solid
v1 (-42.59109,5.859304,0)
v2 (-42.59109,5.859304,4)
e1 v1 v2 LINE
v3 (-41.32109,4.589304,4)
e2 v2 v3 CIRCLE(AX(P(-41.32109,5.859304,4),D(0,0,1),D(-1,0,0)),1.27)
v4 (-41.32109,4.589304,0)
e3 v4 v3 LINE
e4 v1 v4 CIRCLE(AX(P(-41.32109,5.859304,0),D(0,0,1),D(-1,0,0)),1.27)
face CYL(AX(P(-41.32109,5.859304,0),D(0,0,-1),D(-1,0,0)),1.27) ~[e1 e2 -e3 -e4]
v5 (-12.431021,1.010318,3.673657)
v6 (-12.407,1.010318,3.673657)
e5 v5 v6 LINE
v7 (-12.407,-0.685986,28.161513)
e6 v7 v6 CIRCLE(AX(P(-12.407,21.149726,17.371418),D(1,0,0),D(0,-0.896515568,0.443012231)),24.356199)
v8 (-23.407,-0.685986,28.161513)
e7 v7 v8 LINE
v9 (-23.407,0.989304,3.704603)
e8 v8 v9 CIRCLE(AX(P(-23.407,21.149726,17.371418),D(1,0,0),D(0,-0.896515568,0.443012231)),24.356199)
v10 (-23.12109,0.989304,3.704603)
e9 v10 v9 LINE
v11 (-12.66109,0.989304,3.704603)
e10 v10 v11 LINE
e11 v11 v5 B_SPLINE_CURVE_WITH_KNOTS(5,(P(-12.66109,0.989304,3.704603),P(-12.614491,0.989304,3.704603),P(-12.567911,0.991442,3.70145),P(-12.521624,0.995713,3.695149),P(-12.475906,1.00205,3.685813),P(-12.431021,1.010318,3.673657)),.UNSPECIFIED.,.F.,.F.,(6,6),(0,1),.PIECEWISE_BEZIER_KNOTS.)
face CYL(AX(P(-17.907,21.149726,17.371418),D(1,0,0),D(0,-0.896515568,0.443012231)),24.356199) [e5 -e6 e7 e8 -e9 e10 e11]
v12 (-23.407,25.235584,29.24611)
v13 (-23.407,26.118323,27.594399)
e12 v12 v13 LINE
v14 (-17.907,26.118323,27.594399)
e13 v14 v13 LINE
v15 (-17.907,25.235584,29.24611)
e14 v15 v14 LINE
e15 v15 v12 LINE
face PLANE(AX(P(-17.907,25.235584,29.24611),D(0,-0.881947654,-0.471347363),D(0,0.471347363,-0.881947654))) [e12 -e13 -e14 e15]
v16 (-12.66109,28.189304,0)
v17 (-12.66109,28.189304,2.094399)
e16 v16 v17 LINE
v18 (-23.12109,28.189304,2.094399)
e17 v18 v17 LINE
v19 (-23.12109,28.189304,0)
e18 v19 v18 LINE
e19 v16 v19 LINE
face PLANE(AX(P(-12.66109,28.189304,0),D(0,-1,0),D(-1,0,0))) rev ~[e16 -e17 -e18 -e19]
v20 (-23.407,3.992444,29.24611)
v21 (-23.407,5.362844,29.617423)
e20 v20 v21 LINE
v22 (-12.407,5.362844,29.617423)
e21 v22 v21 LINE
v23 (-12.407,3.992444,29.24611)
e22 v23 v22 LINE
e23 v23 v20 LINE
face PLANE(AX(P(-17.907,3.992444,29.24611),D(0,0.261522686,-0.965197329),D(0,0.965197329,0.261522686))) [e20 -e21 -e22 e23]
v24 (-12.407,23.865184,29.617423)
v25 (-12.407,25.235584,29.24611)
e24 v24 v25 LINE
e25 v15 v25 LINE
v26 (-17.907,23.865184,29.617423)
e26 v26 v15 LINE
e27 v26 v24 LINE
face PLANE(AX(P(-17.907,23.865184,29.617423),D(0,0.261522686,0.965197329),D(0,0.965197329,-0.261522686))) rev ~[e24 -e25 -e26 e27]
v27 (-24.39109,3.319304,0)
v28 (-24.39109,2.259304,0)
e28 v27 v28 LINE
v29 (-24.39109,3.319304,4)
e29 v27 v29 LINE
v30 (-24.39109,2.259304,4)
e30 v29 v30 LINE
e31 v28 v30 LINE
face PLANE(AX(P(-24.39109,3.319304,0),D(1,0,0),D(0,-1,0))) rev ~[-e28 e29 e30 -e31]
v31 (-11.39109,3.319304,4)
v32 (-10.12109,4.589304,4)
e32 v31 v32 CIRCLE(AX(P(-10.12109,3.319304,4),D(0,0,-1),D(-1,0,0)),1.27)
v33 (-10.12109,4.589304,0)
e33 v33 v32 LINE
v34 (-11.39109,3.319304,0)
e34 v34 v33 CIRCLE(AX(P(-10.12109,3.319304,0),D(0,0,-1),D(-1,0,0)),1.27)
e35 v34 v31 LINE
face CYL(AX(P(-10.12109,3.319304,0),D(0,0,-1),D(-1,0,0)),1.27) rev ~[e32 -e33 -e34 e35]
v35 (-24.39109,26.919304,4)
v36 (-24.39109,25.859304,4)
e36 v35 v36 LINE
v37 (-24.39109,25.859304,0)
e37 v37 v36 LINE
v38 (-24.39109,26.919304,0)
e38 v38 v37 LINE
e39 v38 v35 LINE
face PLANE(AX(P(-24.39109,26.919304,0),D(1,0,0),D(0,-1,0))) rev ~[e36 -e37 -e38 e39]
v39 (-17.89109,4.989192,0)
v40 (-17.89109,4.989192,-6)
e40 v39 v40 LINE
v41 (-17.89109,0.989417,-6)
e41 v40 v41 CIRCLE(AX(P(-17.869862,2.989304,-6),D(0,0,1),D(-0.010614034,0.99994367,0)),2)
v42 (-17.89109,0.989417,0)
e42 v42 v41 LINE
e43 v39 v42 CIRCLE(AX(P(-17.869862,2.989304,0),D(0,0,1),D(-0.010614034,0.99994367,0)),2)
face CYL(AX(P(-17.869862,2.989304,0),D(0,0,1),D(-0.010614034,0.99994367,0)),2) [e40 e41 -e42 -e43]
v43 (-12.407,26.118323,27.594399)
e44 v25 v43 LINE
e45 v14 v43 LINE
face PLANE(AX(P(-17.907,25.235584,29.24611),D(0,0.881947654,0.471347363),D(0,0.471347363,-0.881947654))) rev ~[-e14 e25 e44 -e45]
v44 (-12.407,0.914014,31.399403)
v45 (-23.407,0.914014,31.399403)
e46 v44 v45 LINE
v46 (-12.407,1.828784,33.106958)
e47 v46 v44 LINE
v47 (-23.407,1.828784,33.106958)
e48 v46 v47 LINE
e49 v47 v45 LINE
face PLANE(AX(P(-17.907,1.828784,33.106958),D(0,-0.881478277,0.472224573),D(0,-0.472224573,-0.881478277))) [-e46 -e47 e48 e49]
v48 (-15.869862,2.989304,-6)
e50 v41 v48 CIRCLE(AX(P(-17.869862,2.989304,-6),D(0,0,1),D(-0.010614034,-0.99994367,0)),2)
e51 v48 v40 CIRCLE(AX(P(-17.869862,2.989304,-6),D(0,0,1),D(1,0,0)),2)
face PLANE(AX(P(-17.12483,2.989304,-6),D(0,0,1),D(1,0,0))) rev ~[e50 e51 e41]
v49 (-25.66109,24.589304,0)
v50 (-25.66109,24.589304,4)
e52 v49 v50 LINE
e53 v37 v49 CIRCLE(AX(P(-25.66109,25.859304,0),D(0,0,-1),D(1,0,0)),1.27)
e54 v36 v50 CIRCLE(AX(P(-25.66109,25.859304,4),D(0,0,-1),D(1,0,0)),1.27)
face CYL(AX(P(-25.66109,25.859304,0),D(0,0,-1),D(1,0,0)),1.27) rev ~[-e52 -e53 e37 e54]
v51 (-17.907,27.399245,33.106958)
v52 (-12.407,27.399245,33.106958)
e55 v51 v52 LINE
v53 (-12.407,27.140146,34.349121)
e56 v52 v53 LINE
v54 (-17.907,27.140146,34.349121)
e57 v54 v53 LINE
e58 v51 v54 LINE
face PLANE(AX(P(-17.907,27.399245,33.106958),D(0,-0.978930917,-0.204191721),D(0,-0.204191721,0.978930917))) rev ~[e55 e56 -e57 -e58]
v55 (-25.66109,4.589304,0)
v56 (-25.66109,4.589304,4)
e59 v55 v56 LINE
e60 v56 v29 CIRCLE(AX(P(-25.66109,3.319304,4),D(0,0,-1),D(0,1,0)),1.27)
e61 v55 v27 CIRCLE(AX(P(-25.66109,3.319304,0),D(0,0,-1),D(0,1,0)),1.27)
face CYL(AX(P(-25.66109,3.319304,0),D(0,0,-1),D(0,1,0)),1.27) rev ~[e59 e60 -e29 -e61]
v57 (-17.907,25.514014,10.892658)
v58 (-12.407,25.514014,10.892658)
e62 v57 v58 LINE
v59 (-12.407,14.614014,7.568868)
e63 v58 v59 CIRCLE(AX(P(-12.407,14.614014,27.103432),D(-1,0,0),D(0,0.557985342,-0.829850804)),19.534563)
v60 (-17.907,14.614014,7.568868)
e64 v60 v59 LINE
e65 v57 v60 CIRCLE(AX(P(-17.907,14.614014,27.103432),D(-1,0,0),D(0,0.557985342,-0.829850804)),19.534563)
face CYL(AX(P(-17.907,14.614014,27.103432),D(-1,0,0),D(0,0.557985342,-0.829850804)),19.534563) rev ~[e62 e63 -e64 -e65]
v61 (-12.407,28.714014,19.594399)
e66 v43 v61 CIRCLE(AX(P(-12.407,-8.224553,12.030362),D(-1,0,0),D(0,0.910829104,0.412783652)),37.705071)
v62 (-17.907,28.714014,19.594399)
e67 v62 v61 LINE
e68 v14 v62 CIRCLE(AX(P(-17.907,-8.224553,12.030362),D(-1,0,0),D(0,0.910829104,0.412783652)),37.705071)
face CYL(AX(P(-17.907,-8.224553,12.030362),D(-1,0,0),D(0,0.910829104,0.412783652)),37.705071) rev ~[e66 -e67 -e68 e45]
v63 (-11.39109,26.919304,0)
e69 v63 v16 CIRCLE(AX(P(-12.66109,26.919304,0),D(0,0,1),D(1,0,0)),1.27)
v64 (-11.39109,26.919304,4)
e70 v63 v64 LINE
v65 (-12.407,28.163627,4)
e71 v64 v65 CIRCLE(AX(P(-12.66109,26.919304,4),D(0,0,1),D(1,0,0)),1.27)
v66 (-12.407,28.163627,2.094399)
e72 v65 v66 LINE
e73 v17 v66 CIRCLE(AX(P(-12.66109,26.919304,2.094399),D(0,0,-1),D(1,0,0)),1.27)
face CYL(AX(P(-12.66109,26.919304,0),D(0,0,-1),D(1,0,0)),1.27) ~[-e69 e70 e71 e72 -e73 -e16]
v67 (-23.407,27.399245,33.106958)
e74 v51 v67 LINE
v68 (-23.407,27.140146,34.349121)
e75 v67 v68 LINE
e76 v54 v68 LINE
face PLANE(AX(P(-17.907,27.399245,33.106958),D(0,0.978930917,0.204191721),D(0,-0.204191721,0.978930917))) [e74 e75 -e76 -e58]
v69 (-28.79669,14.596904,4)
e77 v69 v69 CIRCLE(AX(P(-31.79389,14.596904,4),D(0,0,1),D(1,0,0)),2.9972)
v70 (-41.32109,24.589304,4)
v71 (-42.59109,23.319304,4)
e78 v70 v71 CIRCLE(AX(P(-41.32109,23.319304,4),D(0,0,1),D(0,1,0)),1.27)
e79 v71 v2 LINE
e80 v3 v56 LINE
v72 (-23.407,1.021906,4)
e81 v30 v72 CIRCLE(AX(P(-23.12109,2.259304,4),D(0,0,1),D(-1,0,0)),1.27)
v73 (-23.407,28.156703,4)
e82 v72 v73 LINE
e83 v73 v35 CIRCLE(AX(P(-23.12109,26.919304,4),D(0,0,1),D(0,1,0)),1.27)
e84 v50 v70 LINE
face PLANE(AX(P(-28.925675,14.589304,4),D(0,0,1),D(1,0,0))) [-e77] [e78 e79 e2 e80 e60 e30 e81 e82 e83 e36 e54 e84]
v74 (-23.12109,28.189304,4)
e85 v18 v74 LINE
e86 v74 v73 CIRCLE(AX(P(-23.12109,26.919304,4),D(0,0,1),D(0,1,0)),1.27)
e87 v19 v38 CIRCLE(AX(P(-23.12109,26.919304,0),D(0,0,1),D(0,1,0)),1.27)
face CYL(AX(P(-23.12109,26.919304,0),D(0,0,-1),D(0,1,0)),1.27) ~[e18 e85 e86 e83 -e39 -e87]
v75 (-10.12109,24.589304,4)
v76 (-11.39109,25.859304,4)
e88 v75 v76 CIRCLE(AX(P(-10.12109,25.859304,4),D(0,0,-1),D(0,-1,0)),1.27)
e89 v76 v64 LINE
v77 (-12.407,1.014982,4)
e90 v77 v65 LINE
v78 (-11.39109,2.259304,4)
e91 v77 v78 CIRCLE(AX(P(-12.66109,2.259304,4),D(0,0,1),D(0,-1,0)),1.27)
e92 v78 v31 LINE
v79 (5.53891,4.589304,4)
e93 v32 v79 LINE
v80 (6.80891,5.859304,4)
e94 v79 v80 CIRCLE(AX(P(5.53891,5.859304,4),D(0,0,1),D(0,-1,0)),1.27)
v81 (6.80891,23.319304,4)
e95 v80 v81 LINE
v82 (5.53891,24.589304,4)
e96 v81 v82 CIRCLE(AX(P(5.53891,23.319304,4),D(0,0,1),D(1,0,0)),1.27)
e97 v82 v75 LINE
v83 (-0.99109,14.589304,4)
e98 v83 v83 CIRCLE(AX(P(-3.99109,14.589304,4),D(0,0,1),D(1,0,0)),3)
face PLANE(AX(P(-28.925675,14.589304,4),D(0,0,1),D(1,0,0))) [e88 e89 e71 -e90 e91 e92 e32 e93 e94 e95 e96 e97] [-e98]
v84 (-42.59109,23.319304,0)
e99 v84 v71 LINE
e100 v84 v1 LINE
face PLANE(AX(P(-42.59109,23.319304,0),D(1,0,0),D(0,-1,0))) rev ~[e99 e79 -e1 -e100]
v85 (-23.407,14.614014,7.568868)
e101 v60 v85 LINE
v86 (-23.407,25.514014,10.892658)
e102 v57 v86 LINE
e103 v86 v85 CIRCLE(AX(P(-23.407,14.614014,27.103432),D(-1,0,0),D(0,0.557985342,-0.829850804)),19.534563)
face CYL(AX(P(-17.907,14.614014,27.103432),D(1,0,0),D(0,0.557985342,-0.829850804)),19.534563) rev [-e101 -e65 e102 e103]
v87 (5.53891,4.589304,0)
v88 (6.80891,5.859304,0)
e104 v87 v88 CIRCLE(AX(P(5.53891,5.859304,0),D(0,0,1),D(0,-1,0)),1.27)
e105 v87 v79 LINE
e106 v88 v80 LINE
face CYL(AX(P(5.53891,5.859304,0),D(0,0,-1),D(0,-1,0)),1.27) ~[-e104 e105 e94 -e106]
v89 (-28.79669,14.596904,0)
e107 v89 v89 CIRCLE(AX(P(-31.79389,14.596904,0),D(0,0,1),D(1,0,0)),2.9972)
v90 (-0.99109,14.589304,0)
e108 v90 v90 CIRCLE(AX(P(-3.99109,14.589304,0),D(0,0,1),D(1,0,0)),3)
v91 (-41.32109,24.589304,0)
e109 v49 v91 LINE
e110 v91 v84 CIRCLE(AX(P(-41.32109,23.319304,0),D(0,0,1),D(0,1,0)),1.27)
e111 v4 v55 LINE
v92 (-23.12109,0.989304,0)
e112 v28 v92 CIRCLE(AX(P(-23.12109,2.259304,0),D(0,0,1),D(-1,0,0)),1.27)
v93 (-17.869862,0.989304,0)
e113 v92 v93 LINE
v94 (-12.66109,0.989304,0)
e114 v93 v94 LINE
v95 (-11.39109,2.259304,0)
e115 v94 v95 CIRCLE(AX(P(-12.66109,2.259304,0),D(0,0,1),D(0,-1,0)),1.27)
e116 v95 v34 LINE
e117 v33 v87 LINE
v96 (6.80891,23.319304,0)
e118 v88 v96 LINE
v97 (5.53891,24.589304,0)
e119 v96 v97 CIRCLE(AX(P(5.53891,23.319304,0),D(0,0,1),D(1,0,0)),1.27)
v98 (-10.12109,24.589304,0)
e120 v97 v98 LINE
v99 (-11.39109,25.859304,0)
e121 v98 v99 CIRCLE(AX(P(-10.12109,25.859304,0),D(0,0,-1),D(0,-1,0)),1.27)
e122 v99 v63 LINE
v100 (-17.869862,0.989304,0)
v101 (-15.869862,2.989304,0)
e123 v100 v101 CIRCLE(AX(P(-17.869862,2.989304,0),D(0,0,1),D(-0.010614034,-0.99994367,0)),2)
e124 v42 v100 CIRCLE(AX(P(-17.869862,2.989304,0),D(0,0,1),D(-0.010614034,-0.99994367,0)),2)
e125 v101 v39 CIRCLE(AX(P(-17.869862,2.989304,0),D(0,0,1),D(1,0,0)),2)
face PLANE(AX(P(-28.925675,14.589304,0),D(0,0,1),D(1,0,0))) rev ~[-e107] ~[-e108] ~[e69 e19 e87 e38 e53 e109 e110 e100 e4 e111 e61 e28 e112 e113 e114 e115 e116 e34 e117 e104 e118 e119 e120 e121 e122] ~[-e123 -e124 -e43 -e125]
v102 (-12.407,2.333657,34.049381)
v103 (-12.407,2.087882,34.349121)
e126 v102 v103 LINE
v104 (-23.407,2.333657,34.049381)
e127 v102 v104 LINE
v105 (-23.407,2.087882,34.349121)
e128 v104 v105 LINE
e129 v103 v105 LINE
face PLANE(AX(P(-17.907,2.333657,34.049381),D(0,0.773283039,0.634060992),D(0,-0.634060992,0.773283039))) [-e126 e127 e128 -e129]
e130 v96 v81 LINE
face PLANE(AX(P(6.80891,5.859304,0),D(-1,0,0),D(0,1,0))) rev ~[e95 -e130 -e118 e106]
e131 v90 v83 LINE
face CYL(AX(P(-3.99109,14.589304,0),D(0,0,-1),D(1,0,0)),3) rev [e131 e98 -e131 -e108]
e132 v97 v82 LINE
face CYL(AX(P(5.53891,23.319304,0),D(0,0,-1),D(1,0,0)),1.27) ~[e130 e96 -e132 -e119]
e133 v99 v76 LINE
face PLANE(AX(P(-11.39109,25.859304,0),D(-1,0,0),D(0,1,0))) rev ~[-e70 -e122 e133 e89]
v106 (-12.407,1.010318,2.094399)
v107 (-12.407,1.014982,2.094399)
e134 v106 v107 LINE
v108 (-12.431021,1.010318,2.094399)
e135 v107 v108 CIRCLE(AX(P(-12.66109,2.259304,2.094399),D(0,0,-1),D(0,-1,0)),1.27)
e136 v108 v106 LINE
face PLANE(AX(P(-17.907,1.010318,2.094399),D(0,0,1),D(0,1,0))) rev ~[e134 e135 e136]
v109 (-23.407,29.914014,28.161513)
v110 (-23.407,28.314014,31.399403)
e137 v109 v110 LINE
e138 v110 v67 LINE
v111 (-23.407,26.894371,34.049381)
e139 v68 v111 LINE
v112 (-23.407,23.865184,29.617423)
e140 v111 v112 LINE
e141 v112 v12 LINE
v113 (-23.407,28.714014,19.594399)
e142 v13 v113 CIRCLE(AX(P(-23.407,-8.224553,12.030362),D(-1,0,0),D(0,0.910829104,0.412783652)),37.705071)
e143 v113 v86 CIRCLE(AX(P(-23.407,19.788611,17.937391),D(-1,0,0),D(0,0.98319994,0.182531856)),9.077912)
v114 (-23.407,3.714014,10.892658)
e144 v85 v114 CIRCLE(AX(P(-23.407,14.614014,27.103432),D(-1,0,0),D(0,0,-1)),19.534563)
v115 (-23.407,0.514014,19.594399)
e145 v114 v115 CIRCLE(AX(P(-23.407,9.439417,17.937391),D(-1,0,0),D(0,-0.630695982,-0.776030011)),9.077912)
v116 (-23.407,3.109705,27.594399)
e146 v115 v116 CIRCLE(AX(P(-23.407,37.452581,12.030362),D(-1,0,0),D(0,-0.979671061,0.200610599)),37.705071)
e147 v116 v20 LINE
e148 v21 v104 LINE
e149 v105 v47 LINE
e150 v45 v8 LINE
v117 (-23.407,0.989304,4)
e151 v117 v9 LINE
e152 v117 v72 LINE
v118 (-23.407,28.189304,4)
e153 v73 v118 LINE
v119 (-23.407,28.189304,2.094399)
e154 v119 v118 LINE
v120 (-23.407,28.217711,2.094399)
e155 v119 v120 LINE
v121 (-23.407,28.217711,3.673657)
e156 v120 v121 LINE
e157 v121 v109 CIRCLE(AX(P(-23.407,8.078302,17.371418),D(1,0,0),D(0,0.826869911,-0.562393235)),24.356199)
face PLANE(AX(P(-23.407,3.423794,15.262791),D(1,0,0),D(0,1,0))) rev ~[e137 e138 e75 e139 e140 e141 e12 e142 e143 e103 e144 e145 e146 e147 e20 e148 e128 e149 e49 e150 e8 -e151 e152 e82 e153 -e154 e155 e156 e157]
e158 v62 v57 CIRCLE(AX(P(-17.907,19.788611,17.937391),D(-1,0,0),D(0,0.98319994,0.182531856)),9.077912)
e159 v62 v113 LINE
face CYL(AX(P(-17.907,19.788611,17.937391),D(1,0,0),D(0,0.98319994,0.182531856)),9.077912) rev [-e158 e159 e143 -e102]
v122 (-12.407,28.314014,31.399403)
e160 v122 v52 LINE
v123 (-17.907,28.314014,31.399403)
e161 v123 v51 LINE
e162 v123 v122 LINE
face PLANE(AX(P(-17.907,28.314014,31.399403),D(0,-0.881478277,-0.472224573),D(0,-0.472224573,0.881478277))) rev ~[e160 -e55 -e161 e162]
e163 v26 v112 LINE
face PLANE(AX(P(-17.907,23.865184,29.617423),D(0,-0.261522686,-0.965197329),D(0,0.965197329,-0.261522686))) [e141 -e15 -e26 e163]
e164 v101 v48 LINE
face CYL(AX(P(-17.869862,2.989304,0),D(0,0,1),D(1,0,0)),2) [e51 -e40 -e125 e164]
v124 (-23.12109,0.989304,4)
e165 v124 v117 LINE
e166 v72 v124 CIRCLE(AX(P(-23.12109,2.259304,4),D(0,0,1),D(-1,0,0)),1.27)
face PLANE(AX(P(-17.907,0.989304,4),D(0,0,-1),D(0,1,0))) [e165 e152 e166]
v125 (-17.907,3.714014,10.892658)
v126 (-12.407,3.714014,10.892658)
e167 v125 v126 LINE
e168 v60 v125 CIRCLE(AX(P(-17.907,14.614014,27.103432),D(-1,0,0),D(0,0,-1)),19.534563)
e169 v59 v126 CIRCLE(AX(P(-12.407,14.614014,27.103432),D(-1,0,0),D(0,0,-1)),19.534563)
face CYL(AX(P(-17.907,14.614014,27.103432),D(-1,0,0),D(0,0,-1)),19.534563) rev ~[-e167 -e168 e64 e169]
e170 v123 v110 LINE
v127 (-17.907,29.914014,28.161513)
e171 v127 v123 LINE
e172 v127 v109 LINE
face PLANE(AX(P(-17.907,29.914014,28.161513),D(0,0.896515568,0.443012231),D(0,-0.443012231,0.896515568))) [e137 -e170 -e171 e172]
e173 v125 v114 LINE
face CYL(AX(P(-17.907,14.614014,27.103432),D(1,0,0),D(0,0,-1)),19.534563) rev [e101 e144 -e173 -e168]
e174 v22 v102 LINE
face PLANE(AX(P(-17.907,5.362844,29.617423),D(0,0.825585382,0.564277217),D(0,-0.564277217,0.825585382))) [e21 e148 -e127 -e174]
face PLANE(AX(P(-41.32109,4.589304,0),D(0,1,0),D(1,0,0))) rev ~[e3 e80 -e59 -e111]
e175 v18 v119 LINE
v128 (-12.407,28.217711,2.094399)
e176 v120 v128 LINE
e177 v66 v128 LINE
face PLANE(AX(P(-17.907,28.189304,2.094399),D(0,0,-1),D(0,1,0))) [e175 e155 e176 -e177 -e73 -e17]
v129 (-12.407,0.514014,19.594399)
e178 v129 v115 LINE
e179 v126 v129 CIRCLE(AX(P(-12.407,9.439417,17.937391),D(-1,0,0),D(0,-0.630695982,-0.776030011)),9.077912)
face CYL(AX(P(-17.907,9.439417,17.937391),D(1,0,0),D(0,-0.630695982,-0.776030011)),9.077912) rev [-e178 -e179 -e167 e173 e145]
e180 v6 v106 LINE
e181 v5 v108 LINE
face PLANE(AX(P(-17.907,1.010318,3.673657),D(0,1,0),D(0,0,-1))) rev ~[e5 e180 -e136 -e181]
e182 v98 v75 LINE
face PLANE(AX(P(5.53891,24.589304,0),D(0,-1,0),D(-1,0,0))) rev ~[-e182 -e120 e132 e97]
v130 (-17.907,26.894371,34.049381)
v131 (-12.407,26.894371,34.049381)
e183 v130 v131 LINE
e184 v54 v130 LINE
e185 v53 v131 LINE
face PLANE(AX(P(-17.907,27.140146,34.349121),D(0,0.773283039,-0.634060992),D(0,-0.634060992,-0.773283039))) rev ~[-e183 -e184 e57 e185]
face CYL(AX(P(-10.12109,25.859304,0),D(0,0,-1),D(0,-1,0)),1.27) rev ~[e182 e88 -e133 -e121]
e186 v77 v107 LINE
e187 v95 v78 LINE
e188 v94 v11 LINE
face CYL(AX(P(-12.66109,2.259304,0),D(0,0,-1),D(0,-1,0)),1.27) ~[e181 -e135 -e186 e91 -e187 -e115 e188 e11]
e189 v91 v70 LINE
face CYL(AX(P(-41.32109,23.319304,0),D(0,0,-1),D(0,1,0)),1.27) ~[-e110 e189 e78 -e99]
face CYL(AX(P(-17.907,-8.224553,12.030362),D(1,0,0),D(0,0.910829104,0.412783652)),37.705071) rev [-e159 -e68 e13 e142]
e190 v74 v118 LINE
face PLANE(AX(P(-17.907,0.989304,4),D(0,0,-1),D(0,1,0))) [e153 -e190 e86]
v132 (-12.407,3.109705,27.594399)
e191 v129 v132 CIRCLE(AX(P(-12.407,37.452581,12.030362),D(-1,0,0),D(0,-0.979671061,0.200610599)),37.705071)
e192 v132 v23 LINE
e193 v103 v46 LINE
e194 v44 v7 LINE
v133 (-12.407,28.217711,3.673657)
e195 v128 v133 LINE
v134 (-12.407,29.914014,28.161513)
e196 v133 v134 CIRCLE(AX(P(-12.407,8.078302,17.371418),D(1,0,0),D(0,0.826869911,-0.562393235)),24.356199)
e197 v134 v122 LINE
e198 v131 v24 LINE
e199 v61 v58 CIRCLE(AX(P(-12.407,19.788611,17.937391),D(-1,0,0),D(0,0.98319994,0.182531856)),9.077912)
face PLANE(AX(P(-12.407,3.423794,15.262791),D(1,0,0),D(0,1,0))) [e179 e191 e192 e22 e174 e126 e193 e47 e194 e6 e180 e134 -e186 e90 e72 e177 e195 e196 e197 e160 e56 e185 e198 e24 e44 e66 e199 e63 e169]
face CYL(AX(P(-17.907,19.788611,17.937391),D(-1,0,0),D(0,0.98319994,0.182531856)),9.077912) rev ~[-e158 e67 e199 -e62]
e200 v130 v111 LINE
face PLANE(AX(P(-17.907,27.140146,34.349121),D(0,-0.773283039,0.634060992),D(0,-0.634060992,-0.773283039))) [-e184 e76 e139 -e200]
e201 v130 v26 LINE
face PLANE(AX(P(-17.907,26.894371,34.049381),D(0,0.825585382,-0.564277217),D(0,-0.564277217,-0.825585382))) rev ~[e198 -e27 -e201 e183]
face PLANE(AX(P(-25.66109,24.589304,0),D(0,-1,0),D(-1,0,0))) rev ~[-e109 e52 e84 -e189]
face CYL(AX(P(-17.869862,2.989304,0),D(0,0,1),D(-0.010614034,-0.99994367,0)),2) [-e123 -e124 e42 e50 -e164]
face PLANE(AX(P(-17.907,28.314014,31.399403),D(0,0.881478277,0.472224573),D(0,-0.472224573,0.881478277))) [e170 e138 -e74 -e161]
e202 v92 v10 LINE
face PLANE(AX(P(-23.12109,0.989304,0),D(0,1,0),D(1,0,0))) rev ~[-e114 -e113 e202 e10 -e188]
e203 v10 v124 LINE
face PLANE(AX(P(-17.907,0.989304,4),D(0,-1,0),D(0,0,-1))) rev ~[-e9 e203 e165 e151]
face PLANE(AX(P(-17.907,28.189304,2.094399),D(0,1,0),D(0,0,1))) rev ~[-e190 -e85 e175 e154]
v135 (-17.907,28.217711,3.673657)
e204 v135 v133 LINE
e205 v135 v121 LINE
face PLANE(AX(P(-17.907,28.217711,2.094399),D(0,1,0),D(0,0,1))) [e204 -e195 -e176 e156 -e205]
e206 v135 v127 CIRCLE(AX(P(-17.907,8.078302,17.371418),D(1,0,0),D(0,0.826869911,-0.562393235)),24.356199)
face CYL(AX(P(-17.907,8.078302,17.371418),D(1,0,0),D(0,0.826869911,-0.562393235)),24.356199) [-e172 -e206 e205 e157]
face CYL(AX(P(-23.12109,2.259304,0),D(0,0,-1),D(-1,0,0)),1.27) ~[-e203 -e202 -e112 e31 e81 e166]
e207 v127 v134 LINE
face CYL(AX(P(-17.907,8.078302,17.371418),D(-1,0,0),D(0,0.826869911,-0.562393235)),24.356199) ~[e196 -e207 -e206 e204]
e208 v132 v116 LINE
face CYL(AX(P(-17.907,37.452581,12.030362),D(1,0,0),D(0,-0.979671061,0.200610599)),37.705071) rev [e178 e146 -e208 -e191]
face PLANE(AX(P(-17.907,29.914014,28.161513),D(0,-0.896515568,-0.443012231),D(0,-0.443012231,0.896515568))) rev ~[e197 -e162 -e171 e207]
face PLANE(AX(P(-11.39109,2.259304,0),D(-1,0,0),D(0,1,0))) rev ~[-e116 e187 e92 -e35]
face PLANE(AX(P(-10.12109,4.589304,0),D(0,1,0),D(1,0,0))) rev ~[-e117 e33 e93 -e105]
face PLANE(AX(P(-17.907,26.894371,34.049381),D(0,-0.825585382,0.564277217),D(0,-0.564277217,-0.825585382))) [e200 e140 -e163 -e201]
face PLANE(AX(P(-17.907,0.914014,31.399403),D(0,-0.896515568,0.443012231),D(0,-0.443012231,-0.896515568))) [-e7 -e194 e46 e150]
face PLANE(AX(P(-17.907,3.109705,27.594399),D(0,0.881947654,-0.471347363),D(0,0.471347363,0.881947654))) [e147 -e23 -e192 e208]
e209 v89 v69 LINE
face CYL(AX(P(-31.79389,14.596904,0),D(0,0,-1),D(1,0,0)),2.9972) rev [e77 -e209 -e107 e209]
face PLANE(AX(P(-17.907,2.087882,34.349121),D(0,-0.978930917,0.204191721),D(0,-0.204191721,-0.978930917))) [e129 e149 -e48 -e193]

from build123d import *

# Parameters (mm, degrees)
F0_R     = 2.9972
F0_R_2   = 3
F1_DEPTH = 4
F4_DEPTH = 5.5
F5_DEPTH = 5.5
F7_DEPTH = 6


with BuildPart() as f1:
    # F0 (on Top) → F1 (new body)
    with BuildSketch(Plane.XY):
        with BuildLine():
            Line((-25.6610898641, 24.5893044506), (-41.3210898641, 24.5893044506))
            ThreePointArc((-41.3210898641, 24.5893044506), (-42.2191154762, 24.2173300627), (-42.5910898641, 23.3193044506))
            Line((-42.5910898641, 23.3193044506), (-42.5910898641, 5.8593044506))
            ThreePointArc((-42.5910898641, 5.8593044506), (-42.2191154762, 4.9612788385), (-41.3210898641, 4.5893044506))
            Line((-41.3210898641, 4.5893044506), (-25.6610898641, 4.5893044506))
            ThreePointArc((-25.6610898641, 4.5893044506), (-24.763064252, 4.2173300627), (-24.3910898641, 3.3193044506))
            Line((-24.3910898641, 3.3193044506), (-24.3910898641, 2.2593044506))
            ThreePointArc((-24.3910898641, 2.2593044506), (-24.0191154762, 1.3612788385), (-23.1210898641, 0.9893044506))
            Line((-23.1210898641, 0.9893044506), (-17.8910898641, 0.9893044506))
            Line((-17.8910898641, 0.9893044506), (-17.8910898641, 28.1893044506))
            Line((-17.8910898641, 28.1893044506), (-23.1210898641, 28.1893044506))
            ThreePointArc((-23.1210898641, 28.1893044506), (-24.0191154762, 27.8173300627), (-24.3910898641, 26.9193044506))
            Line((-24.3910898641, 26.9193044506), (-24.3910898641, 25.8593044506))
            ThreePointArc((-24.3910898641, 25.8593044506), (-24.763064252, 24.9612788385), (-25.6610898641, 24.5893044506))
        make_face()
        with Locations((-31.7938898641, 14.5969044506)):
            Circle(F0_R, mode=Mode.SUBTRACT)
        with BuildLine():
            Line((-12.6610898641, 28.1893044506), (-17.8910898641, 28.1893044506))
            Line((-17.8910898641, 28.1893044506), (-17.8910898641, 0.9893044506))
            Line((-17.8910898641, 0.9893044506), (-12.6610898641, 0.9893044506))
            ThreePointArc((-12.6610898641, 0.9893044506), (-11.763064252, 1.3612788385), (-11.3910898641, 2.2593044506))
            Line((-11.3910898641, 2.2593044506), (-11.3910898641, 3.3193044506))
            ThreePointArc((-11.3910898641, 3.3193044506), (-11.0191154762, 4.2173300627), (-10.1210898641, 4.5893044506))
            Line((-10.1210898641, 4.5893044506), (5.5389101359, 4.5893044506))
            ThreePointArc((5.5389101359, 4.5893044506), (6.436935748, 4.9612788385), (6.8089101359, 5.8593044506))
            Line((6.8089101359, 5.8593044506), (6.8089101359, 23.3193044506))
            ThreePointArc((6.8089101359, 23.3193044506), (6.436935748, 24.2173300627), (5.5389101359, 24.5893044506))
            Line((5.5389101359, 24.5893044506), (-10.1210898641, 24.5893044506))
            ThreePointArc((-10.1210898641, 24.5893044506), (-11.0191154762, 24.9612788385), (-11.3910898641, 25.8593044506))
            Line((-11.3910898641, 25.8593044506), (-11.3910898641, 26.9193044506))
            ThreePointArc((-11.3910898641, 26.9193044506), (-11.763064252, 27.8173300627), (-12.6610898641, 28.1893044506))
        make_face()
        with Locations((-3.9910898641, 14.5893044506)):
            Circle(F0_R_2, mode=Mode.SUBTRACT)
    extrude(amount=F1_DEPTH)

    # F3 (on offset) → F4 (join)
    with BuildSketch(Plane.YZ.offset(-17.907)):
        with BuildLine():
            Line((1.0103175882, 3.6736566108), (1.0103175882, 2.094399018))
            Line((1.0103175882, 2.094399018), (14.6140140714, 2.094399018))
            Line((14.6140140714, 2.094399018), (14.6140140714, 7.5688682606))
            ThreePointArc((14.6140140714, 7.5688682606), (8.9162605334, 8.4182832346), (3.7140140714, 10.8926584944))
            ThreePointArc((3.7140140714, 10.8926584944), (0.9193465512, 14.8041987102), (0.5140140714, 19.594399018))
            ThreePointArc((0.5140140714, 19.594399018), (1.5880995617, 23.6670004727), (3.1097049359, 27.594399018))
            Line((3.1097049359, 27.594399018), (3.9924437818, 29.2461096572))
            Line((3.9924437818, 29.2461096572), (5.3628443275, 29.6174231917))
            Line((5.3628443275, 29.6174231917), (2.3336572567, 34.0493805554))
            Line((2.3336572567, 34.0493805554), (2.0878820214, 34.3491211534))
            Line((2.0878820214, 34.3491211534), (1.8287835856, 33.1069578199))
            Line((1.8287835856, 33.1069578199), (0.9140140714, 31.3994027674))
            Line((0.9140140714, 31.3994027674), (-0.6859859286, 28.1615126878))
            ThreePointArc((-0.6859859286, 28.1615126878), (-3.1482462474, 15.6882683861), (1.0103175882, 3.6736566108))
        make_face()
        with BuildLine():
            Line((14.6140140714, 7.5688682606), (14.6140140714, 2.094399018))
            Line((14.6140140714, 2.094399018), (28.2177105546, 2.094399018))
            Line((28.2177105546, 2.094399018), (28.2177105546, 3.6736566108))
            ThreePointArc((28.2177105546, 3.6736566108), (32.3762743902, 15.6882683861), (29.9140140714, 28.1615126878))
            Line((29.9140140714, 28.1615126878), (28.3140140714, 31.3994027674))
            Line((28.3140140714, 31.3994027674), (27.3992445572, 33.1069578199))
            Line((27.3992445572, 33.1069578199), (27.1401461214, 34.3491211534))
            Line((27.1401461214, 34.3491211534), (26.8943708861, 34.0493805554))
            Line((26.8943708861, 34.0493805554), (23.8651838154, 29.6174231917))
            Line((23.8651838154, 29.6174231917), (25.2355843611, 29.2461096572))
            Line((25.2355843611, 29.2461096572), (26.1183232069, 27.594399018))
            ThreePointArc((26.1183232069, 27.594399018), (27.6399285811, 23.6670004727), (28.7140140714, 19.594399018))
            ThreePointArc((28.7140140714, 19.594399018), (28.3086815916, 14.8041987102), (25.5140140714, 10.8926584944))
            ThreePointArc((25.5140140714, 10.8926584944), (20.3117676094, 8.4182832346), (14.6140140714, 7.5688682606))
        make_face()
    extrude(amount=F4_DEPTH)

    # F5 (add): a face of the model
    f5_faces = [f1.faces().sort_by_distance(p)[0] for p in [
        (-17.907, 0.5449617654, 29.5675053748),
    ]]
    extrude(f5_faces, amount=F5_DEPTH)

    # F6 (on face) → F7 (join)
    with BuildSketch(Plane.XY):
        with BuildLine():
            ThreePointArc((-17.8910898641, 0.9894171115), (-16.4631735111, 1.5676054433), (-15.8698617965, 2.9893044506))
            ThreePointArc((-15.8698617965, 2.9893044506), (-16.4631735111, 4.411003458), (-17.8910898641, 4.9891917898))
            Line((-17.8910898641, 4.9891917898), (-17.8910898641, 0.9894171115))
        make_face()
        with BuildLine():
            Line((-17.8910898641, 0.9894171115), (-17.8910898641, 4.9891917898))
            ThreePointArc((-17.8910898641, 4.9891917898), (-19.8698617965, 2.9893044506), (-17.8910898641, 0.9894171115))
        make_face()
    extrude(amount=-F7_DEPTH)


solid = f1.part
